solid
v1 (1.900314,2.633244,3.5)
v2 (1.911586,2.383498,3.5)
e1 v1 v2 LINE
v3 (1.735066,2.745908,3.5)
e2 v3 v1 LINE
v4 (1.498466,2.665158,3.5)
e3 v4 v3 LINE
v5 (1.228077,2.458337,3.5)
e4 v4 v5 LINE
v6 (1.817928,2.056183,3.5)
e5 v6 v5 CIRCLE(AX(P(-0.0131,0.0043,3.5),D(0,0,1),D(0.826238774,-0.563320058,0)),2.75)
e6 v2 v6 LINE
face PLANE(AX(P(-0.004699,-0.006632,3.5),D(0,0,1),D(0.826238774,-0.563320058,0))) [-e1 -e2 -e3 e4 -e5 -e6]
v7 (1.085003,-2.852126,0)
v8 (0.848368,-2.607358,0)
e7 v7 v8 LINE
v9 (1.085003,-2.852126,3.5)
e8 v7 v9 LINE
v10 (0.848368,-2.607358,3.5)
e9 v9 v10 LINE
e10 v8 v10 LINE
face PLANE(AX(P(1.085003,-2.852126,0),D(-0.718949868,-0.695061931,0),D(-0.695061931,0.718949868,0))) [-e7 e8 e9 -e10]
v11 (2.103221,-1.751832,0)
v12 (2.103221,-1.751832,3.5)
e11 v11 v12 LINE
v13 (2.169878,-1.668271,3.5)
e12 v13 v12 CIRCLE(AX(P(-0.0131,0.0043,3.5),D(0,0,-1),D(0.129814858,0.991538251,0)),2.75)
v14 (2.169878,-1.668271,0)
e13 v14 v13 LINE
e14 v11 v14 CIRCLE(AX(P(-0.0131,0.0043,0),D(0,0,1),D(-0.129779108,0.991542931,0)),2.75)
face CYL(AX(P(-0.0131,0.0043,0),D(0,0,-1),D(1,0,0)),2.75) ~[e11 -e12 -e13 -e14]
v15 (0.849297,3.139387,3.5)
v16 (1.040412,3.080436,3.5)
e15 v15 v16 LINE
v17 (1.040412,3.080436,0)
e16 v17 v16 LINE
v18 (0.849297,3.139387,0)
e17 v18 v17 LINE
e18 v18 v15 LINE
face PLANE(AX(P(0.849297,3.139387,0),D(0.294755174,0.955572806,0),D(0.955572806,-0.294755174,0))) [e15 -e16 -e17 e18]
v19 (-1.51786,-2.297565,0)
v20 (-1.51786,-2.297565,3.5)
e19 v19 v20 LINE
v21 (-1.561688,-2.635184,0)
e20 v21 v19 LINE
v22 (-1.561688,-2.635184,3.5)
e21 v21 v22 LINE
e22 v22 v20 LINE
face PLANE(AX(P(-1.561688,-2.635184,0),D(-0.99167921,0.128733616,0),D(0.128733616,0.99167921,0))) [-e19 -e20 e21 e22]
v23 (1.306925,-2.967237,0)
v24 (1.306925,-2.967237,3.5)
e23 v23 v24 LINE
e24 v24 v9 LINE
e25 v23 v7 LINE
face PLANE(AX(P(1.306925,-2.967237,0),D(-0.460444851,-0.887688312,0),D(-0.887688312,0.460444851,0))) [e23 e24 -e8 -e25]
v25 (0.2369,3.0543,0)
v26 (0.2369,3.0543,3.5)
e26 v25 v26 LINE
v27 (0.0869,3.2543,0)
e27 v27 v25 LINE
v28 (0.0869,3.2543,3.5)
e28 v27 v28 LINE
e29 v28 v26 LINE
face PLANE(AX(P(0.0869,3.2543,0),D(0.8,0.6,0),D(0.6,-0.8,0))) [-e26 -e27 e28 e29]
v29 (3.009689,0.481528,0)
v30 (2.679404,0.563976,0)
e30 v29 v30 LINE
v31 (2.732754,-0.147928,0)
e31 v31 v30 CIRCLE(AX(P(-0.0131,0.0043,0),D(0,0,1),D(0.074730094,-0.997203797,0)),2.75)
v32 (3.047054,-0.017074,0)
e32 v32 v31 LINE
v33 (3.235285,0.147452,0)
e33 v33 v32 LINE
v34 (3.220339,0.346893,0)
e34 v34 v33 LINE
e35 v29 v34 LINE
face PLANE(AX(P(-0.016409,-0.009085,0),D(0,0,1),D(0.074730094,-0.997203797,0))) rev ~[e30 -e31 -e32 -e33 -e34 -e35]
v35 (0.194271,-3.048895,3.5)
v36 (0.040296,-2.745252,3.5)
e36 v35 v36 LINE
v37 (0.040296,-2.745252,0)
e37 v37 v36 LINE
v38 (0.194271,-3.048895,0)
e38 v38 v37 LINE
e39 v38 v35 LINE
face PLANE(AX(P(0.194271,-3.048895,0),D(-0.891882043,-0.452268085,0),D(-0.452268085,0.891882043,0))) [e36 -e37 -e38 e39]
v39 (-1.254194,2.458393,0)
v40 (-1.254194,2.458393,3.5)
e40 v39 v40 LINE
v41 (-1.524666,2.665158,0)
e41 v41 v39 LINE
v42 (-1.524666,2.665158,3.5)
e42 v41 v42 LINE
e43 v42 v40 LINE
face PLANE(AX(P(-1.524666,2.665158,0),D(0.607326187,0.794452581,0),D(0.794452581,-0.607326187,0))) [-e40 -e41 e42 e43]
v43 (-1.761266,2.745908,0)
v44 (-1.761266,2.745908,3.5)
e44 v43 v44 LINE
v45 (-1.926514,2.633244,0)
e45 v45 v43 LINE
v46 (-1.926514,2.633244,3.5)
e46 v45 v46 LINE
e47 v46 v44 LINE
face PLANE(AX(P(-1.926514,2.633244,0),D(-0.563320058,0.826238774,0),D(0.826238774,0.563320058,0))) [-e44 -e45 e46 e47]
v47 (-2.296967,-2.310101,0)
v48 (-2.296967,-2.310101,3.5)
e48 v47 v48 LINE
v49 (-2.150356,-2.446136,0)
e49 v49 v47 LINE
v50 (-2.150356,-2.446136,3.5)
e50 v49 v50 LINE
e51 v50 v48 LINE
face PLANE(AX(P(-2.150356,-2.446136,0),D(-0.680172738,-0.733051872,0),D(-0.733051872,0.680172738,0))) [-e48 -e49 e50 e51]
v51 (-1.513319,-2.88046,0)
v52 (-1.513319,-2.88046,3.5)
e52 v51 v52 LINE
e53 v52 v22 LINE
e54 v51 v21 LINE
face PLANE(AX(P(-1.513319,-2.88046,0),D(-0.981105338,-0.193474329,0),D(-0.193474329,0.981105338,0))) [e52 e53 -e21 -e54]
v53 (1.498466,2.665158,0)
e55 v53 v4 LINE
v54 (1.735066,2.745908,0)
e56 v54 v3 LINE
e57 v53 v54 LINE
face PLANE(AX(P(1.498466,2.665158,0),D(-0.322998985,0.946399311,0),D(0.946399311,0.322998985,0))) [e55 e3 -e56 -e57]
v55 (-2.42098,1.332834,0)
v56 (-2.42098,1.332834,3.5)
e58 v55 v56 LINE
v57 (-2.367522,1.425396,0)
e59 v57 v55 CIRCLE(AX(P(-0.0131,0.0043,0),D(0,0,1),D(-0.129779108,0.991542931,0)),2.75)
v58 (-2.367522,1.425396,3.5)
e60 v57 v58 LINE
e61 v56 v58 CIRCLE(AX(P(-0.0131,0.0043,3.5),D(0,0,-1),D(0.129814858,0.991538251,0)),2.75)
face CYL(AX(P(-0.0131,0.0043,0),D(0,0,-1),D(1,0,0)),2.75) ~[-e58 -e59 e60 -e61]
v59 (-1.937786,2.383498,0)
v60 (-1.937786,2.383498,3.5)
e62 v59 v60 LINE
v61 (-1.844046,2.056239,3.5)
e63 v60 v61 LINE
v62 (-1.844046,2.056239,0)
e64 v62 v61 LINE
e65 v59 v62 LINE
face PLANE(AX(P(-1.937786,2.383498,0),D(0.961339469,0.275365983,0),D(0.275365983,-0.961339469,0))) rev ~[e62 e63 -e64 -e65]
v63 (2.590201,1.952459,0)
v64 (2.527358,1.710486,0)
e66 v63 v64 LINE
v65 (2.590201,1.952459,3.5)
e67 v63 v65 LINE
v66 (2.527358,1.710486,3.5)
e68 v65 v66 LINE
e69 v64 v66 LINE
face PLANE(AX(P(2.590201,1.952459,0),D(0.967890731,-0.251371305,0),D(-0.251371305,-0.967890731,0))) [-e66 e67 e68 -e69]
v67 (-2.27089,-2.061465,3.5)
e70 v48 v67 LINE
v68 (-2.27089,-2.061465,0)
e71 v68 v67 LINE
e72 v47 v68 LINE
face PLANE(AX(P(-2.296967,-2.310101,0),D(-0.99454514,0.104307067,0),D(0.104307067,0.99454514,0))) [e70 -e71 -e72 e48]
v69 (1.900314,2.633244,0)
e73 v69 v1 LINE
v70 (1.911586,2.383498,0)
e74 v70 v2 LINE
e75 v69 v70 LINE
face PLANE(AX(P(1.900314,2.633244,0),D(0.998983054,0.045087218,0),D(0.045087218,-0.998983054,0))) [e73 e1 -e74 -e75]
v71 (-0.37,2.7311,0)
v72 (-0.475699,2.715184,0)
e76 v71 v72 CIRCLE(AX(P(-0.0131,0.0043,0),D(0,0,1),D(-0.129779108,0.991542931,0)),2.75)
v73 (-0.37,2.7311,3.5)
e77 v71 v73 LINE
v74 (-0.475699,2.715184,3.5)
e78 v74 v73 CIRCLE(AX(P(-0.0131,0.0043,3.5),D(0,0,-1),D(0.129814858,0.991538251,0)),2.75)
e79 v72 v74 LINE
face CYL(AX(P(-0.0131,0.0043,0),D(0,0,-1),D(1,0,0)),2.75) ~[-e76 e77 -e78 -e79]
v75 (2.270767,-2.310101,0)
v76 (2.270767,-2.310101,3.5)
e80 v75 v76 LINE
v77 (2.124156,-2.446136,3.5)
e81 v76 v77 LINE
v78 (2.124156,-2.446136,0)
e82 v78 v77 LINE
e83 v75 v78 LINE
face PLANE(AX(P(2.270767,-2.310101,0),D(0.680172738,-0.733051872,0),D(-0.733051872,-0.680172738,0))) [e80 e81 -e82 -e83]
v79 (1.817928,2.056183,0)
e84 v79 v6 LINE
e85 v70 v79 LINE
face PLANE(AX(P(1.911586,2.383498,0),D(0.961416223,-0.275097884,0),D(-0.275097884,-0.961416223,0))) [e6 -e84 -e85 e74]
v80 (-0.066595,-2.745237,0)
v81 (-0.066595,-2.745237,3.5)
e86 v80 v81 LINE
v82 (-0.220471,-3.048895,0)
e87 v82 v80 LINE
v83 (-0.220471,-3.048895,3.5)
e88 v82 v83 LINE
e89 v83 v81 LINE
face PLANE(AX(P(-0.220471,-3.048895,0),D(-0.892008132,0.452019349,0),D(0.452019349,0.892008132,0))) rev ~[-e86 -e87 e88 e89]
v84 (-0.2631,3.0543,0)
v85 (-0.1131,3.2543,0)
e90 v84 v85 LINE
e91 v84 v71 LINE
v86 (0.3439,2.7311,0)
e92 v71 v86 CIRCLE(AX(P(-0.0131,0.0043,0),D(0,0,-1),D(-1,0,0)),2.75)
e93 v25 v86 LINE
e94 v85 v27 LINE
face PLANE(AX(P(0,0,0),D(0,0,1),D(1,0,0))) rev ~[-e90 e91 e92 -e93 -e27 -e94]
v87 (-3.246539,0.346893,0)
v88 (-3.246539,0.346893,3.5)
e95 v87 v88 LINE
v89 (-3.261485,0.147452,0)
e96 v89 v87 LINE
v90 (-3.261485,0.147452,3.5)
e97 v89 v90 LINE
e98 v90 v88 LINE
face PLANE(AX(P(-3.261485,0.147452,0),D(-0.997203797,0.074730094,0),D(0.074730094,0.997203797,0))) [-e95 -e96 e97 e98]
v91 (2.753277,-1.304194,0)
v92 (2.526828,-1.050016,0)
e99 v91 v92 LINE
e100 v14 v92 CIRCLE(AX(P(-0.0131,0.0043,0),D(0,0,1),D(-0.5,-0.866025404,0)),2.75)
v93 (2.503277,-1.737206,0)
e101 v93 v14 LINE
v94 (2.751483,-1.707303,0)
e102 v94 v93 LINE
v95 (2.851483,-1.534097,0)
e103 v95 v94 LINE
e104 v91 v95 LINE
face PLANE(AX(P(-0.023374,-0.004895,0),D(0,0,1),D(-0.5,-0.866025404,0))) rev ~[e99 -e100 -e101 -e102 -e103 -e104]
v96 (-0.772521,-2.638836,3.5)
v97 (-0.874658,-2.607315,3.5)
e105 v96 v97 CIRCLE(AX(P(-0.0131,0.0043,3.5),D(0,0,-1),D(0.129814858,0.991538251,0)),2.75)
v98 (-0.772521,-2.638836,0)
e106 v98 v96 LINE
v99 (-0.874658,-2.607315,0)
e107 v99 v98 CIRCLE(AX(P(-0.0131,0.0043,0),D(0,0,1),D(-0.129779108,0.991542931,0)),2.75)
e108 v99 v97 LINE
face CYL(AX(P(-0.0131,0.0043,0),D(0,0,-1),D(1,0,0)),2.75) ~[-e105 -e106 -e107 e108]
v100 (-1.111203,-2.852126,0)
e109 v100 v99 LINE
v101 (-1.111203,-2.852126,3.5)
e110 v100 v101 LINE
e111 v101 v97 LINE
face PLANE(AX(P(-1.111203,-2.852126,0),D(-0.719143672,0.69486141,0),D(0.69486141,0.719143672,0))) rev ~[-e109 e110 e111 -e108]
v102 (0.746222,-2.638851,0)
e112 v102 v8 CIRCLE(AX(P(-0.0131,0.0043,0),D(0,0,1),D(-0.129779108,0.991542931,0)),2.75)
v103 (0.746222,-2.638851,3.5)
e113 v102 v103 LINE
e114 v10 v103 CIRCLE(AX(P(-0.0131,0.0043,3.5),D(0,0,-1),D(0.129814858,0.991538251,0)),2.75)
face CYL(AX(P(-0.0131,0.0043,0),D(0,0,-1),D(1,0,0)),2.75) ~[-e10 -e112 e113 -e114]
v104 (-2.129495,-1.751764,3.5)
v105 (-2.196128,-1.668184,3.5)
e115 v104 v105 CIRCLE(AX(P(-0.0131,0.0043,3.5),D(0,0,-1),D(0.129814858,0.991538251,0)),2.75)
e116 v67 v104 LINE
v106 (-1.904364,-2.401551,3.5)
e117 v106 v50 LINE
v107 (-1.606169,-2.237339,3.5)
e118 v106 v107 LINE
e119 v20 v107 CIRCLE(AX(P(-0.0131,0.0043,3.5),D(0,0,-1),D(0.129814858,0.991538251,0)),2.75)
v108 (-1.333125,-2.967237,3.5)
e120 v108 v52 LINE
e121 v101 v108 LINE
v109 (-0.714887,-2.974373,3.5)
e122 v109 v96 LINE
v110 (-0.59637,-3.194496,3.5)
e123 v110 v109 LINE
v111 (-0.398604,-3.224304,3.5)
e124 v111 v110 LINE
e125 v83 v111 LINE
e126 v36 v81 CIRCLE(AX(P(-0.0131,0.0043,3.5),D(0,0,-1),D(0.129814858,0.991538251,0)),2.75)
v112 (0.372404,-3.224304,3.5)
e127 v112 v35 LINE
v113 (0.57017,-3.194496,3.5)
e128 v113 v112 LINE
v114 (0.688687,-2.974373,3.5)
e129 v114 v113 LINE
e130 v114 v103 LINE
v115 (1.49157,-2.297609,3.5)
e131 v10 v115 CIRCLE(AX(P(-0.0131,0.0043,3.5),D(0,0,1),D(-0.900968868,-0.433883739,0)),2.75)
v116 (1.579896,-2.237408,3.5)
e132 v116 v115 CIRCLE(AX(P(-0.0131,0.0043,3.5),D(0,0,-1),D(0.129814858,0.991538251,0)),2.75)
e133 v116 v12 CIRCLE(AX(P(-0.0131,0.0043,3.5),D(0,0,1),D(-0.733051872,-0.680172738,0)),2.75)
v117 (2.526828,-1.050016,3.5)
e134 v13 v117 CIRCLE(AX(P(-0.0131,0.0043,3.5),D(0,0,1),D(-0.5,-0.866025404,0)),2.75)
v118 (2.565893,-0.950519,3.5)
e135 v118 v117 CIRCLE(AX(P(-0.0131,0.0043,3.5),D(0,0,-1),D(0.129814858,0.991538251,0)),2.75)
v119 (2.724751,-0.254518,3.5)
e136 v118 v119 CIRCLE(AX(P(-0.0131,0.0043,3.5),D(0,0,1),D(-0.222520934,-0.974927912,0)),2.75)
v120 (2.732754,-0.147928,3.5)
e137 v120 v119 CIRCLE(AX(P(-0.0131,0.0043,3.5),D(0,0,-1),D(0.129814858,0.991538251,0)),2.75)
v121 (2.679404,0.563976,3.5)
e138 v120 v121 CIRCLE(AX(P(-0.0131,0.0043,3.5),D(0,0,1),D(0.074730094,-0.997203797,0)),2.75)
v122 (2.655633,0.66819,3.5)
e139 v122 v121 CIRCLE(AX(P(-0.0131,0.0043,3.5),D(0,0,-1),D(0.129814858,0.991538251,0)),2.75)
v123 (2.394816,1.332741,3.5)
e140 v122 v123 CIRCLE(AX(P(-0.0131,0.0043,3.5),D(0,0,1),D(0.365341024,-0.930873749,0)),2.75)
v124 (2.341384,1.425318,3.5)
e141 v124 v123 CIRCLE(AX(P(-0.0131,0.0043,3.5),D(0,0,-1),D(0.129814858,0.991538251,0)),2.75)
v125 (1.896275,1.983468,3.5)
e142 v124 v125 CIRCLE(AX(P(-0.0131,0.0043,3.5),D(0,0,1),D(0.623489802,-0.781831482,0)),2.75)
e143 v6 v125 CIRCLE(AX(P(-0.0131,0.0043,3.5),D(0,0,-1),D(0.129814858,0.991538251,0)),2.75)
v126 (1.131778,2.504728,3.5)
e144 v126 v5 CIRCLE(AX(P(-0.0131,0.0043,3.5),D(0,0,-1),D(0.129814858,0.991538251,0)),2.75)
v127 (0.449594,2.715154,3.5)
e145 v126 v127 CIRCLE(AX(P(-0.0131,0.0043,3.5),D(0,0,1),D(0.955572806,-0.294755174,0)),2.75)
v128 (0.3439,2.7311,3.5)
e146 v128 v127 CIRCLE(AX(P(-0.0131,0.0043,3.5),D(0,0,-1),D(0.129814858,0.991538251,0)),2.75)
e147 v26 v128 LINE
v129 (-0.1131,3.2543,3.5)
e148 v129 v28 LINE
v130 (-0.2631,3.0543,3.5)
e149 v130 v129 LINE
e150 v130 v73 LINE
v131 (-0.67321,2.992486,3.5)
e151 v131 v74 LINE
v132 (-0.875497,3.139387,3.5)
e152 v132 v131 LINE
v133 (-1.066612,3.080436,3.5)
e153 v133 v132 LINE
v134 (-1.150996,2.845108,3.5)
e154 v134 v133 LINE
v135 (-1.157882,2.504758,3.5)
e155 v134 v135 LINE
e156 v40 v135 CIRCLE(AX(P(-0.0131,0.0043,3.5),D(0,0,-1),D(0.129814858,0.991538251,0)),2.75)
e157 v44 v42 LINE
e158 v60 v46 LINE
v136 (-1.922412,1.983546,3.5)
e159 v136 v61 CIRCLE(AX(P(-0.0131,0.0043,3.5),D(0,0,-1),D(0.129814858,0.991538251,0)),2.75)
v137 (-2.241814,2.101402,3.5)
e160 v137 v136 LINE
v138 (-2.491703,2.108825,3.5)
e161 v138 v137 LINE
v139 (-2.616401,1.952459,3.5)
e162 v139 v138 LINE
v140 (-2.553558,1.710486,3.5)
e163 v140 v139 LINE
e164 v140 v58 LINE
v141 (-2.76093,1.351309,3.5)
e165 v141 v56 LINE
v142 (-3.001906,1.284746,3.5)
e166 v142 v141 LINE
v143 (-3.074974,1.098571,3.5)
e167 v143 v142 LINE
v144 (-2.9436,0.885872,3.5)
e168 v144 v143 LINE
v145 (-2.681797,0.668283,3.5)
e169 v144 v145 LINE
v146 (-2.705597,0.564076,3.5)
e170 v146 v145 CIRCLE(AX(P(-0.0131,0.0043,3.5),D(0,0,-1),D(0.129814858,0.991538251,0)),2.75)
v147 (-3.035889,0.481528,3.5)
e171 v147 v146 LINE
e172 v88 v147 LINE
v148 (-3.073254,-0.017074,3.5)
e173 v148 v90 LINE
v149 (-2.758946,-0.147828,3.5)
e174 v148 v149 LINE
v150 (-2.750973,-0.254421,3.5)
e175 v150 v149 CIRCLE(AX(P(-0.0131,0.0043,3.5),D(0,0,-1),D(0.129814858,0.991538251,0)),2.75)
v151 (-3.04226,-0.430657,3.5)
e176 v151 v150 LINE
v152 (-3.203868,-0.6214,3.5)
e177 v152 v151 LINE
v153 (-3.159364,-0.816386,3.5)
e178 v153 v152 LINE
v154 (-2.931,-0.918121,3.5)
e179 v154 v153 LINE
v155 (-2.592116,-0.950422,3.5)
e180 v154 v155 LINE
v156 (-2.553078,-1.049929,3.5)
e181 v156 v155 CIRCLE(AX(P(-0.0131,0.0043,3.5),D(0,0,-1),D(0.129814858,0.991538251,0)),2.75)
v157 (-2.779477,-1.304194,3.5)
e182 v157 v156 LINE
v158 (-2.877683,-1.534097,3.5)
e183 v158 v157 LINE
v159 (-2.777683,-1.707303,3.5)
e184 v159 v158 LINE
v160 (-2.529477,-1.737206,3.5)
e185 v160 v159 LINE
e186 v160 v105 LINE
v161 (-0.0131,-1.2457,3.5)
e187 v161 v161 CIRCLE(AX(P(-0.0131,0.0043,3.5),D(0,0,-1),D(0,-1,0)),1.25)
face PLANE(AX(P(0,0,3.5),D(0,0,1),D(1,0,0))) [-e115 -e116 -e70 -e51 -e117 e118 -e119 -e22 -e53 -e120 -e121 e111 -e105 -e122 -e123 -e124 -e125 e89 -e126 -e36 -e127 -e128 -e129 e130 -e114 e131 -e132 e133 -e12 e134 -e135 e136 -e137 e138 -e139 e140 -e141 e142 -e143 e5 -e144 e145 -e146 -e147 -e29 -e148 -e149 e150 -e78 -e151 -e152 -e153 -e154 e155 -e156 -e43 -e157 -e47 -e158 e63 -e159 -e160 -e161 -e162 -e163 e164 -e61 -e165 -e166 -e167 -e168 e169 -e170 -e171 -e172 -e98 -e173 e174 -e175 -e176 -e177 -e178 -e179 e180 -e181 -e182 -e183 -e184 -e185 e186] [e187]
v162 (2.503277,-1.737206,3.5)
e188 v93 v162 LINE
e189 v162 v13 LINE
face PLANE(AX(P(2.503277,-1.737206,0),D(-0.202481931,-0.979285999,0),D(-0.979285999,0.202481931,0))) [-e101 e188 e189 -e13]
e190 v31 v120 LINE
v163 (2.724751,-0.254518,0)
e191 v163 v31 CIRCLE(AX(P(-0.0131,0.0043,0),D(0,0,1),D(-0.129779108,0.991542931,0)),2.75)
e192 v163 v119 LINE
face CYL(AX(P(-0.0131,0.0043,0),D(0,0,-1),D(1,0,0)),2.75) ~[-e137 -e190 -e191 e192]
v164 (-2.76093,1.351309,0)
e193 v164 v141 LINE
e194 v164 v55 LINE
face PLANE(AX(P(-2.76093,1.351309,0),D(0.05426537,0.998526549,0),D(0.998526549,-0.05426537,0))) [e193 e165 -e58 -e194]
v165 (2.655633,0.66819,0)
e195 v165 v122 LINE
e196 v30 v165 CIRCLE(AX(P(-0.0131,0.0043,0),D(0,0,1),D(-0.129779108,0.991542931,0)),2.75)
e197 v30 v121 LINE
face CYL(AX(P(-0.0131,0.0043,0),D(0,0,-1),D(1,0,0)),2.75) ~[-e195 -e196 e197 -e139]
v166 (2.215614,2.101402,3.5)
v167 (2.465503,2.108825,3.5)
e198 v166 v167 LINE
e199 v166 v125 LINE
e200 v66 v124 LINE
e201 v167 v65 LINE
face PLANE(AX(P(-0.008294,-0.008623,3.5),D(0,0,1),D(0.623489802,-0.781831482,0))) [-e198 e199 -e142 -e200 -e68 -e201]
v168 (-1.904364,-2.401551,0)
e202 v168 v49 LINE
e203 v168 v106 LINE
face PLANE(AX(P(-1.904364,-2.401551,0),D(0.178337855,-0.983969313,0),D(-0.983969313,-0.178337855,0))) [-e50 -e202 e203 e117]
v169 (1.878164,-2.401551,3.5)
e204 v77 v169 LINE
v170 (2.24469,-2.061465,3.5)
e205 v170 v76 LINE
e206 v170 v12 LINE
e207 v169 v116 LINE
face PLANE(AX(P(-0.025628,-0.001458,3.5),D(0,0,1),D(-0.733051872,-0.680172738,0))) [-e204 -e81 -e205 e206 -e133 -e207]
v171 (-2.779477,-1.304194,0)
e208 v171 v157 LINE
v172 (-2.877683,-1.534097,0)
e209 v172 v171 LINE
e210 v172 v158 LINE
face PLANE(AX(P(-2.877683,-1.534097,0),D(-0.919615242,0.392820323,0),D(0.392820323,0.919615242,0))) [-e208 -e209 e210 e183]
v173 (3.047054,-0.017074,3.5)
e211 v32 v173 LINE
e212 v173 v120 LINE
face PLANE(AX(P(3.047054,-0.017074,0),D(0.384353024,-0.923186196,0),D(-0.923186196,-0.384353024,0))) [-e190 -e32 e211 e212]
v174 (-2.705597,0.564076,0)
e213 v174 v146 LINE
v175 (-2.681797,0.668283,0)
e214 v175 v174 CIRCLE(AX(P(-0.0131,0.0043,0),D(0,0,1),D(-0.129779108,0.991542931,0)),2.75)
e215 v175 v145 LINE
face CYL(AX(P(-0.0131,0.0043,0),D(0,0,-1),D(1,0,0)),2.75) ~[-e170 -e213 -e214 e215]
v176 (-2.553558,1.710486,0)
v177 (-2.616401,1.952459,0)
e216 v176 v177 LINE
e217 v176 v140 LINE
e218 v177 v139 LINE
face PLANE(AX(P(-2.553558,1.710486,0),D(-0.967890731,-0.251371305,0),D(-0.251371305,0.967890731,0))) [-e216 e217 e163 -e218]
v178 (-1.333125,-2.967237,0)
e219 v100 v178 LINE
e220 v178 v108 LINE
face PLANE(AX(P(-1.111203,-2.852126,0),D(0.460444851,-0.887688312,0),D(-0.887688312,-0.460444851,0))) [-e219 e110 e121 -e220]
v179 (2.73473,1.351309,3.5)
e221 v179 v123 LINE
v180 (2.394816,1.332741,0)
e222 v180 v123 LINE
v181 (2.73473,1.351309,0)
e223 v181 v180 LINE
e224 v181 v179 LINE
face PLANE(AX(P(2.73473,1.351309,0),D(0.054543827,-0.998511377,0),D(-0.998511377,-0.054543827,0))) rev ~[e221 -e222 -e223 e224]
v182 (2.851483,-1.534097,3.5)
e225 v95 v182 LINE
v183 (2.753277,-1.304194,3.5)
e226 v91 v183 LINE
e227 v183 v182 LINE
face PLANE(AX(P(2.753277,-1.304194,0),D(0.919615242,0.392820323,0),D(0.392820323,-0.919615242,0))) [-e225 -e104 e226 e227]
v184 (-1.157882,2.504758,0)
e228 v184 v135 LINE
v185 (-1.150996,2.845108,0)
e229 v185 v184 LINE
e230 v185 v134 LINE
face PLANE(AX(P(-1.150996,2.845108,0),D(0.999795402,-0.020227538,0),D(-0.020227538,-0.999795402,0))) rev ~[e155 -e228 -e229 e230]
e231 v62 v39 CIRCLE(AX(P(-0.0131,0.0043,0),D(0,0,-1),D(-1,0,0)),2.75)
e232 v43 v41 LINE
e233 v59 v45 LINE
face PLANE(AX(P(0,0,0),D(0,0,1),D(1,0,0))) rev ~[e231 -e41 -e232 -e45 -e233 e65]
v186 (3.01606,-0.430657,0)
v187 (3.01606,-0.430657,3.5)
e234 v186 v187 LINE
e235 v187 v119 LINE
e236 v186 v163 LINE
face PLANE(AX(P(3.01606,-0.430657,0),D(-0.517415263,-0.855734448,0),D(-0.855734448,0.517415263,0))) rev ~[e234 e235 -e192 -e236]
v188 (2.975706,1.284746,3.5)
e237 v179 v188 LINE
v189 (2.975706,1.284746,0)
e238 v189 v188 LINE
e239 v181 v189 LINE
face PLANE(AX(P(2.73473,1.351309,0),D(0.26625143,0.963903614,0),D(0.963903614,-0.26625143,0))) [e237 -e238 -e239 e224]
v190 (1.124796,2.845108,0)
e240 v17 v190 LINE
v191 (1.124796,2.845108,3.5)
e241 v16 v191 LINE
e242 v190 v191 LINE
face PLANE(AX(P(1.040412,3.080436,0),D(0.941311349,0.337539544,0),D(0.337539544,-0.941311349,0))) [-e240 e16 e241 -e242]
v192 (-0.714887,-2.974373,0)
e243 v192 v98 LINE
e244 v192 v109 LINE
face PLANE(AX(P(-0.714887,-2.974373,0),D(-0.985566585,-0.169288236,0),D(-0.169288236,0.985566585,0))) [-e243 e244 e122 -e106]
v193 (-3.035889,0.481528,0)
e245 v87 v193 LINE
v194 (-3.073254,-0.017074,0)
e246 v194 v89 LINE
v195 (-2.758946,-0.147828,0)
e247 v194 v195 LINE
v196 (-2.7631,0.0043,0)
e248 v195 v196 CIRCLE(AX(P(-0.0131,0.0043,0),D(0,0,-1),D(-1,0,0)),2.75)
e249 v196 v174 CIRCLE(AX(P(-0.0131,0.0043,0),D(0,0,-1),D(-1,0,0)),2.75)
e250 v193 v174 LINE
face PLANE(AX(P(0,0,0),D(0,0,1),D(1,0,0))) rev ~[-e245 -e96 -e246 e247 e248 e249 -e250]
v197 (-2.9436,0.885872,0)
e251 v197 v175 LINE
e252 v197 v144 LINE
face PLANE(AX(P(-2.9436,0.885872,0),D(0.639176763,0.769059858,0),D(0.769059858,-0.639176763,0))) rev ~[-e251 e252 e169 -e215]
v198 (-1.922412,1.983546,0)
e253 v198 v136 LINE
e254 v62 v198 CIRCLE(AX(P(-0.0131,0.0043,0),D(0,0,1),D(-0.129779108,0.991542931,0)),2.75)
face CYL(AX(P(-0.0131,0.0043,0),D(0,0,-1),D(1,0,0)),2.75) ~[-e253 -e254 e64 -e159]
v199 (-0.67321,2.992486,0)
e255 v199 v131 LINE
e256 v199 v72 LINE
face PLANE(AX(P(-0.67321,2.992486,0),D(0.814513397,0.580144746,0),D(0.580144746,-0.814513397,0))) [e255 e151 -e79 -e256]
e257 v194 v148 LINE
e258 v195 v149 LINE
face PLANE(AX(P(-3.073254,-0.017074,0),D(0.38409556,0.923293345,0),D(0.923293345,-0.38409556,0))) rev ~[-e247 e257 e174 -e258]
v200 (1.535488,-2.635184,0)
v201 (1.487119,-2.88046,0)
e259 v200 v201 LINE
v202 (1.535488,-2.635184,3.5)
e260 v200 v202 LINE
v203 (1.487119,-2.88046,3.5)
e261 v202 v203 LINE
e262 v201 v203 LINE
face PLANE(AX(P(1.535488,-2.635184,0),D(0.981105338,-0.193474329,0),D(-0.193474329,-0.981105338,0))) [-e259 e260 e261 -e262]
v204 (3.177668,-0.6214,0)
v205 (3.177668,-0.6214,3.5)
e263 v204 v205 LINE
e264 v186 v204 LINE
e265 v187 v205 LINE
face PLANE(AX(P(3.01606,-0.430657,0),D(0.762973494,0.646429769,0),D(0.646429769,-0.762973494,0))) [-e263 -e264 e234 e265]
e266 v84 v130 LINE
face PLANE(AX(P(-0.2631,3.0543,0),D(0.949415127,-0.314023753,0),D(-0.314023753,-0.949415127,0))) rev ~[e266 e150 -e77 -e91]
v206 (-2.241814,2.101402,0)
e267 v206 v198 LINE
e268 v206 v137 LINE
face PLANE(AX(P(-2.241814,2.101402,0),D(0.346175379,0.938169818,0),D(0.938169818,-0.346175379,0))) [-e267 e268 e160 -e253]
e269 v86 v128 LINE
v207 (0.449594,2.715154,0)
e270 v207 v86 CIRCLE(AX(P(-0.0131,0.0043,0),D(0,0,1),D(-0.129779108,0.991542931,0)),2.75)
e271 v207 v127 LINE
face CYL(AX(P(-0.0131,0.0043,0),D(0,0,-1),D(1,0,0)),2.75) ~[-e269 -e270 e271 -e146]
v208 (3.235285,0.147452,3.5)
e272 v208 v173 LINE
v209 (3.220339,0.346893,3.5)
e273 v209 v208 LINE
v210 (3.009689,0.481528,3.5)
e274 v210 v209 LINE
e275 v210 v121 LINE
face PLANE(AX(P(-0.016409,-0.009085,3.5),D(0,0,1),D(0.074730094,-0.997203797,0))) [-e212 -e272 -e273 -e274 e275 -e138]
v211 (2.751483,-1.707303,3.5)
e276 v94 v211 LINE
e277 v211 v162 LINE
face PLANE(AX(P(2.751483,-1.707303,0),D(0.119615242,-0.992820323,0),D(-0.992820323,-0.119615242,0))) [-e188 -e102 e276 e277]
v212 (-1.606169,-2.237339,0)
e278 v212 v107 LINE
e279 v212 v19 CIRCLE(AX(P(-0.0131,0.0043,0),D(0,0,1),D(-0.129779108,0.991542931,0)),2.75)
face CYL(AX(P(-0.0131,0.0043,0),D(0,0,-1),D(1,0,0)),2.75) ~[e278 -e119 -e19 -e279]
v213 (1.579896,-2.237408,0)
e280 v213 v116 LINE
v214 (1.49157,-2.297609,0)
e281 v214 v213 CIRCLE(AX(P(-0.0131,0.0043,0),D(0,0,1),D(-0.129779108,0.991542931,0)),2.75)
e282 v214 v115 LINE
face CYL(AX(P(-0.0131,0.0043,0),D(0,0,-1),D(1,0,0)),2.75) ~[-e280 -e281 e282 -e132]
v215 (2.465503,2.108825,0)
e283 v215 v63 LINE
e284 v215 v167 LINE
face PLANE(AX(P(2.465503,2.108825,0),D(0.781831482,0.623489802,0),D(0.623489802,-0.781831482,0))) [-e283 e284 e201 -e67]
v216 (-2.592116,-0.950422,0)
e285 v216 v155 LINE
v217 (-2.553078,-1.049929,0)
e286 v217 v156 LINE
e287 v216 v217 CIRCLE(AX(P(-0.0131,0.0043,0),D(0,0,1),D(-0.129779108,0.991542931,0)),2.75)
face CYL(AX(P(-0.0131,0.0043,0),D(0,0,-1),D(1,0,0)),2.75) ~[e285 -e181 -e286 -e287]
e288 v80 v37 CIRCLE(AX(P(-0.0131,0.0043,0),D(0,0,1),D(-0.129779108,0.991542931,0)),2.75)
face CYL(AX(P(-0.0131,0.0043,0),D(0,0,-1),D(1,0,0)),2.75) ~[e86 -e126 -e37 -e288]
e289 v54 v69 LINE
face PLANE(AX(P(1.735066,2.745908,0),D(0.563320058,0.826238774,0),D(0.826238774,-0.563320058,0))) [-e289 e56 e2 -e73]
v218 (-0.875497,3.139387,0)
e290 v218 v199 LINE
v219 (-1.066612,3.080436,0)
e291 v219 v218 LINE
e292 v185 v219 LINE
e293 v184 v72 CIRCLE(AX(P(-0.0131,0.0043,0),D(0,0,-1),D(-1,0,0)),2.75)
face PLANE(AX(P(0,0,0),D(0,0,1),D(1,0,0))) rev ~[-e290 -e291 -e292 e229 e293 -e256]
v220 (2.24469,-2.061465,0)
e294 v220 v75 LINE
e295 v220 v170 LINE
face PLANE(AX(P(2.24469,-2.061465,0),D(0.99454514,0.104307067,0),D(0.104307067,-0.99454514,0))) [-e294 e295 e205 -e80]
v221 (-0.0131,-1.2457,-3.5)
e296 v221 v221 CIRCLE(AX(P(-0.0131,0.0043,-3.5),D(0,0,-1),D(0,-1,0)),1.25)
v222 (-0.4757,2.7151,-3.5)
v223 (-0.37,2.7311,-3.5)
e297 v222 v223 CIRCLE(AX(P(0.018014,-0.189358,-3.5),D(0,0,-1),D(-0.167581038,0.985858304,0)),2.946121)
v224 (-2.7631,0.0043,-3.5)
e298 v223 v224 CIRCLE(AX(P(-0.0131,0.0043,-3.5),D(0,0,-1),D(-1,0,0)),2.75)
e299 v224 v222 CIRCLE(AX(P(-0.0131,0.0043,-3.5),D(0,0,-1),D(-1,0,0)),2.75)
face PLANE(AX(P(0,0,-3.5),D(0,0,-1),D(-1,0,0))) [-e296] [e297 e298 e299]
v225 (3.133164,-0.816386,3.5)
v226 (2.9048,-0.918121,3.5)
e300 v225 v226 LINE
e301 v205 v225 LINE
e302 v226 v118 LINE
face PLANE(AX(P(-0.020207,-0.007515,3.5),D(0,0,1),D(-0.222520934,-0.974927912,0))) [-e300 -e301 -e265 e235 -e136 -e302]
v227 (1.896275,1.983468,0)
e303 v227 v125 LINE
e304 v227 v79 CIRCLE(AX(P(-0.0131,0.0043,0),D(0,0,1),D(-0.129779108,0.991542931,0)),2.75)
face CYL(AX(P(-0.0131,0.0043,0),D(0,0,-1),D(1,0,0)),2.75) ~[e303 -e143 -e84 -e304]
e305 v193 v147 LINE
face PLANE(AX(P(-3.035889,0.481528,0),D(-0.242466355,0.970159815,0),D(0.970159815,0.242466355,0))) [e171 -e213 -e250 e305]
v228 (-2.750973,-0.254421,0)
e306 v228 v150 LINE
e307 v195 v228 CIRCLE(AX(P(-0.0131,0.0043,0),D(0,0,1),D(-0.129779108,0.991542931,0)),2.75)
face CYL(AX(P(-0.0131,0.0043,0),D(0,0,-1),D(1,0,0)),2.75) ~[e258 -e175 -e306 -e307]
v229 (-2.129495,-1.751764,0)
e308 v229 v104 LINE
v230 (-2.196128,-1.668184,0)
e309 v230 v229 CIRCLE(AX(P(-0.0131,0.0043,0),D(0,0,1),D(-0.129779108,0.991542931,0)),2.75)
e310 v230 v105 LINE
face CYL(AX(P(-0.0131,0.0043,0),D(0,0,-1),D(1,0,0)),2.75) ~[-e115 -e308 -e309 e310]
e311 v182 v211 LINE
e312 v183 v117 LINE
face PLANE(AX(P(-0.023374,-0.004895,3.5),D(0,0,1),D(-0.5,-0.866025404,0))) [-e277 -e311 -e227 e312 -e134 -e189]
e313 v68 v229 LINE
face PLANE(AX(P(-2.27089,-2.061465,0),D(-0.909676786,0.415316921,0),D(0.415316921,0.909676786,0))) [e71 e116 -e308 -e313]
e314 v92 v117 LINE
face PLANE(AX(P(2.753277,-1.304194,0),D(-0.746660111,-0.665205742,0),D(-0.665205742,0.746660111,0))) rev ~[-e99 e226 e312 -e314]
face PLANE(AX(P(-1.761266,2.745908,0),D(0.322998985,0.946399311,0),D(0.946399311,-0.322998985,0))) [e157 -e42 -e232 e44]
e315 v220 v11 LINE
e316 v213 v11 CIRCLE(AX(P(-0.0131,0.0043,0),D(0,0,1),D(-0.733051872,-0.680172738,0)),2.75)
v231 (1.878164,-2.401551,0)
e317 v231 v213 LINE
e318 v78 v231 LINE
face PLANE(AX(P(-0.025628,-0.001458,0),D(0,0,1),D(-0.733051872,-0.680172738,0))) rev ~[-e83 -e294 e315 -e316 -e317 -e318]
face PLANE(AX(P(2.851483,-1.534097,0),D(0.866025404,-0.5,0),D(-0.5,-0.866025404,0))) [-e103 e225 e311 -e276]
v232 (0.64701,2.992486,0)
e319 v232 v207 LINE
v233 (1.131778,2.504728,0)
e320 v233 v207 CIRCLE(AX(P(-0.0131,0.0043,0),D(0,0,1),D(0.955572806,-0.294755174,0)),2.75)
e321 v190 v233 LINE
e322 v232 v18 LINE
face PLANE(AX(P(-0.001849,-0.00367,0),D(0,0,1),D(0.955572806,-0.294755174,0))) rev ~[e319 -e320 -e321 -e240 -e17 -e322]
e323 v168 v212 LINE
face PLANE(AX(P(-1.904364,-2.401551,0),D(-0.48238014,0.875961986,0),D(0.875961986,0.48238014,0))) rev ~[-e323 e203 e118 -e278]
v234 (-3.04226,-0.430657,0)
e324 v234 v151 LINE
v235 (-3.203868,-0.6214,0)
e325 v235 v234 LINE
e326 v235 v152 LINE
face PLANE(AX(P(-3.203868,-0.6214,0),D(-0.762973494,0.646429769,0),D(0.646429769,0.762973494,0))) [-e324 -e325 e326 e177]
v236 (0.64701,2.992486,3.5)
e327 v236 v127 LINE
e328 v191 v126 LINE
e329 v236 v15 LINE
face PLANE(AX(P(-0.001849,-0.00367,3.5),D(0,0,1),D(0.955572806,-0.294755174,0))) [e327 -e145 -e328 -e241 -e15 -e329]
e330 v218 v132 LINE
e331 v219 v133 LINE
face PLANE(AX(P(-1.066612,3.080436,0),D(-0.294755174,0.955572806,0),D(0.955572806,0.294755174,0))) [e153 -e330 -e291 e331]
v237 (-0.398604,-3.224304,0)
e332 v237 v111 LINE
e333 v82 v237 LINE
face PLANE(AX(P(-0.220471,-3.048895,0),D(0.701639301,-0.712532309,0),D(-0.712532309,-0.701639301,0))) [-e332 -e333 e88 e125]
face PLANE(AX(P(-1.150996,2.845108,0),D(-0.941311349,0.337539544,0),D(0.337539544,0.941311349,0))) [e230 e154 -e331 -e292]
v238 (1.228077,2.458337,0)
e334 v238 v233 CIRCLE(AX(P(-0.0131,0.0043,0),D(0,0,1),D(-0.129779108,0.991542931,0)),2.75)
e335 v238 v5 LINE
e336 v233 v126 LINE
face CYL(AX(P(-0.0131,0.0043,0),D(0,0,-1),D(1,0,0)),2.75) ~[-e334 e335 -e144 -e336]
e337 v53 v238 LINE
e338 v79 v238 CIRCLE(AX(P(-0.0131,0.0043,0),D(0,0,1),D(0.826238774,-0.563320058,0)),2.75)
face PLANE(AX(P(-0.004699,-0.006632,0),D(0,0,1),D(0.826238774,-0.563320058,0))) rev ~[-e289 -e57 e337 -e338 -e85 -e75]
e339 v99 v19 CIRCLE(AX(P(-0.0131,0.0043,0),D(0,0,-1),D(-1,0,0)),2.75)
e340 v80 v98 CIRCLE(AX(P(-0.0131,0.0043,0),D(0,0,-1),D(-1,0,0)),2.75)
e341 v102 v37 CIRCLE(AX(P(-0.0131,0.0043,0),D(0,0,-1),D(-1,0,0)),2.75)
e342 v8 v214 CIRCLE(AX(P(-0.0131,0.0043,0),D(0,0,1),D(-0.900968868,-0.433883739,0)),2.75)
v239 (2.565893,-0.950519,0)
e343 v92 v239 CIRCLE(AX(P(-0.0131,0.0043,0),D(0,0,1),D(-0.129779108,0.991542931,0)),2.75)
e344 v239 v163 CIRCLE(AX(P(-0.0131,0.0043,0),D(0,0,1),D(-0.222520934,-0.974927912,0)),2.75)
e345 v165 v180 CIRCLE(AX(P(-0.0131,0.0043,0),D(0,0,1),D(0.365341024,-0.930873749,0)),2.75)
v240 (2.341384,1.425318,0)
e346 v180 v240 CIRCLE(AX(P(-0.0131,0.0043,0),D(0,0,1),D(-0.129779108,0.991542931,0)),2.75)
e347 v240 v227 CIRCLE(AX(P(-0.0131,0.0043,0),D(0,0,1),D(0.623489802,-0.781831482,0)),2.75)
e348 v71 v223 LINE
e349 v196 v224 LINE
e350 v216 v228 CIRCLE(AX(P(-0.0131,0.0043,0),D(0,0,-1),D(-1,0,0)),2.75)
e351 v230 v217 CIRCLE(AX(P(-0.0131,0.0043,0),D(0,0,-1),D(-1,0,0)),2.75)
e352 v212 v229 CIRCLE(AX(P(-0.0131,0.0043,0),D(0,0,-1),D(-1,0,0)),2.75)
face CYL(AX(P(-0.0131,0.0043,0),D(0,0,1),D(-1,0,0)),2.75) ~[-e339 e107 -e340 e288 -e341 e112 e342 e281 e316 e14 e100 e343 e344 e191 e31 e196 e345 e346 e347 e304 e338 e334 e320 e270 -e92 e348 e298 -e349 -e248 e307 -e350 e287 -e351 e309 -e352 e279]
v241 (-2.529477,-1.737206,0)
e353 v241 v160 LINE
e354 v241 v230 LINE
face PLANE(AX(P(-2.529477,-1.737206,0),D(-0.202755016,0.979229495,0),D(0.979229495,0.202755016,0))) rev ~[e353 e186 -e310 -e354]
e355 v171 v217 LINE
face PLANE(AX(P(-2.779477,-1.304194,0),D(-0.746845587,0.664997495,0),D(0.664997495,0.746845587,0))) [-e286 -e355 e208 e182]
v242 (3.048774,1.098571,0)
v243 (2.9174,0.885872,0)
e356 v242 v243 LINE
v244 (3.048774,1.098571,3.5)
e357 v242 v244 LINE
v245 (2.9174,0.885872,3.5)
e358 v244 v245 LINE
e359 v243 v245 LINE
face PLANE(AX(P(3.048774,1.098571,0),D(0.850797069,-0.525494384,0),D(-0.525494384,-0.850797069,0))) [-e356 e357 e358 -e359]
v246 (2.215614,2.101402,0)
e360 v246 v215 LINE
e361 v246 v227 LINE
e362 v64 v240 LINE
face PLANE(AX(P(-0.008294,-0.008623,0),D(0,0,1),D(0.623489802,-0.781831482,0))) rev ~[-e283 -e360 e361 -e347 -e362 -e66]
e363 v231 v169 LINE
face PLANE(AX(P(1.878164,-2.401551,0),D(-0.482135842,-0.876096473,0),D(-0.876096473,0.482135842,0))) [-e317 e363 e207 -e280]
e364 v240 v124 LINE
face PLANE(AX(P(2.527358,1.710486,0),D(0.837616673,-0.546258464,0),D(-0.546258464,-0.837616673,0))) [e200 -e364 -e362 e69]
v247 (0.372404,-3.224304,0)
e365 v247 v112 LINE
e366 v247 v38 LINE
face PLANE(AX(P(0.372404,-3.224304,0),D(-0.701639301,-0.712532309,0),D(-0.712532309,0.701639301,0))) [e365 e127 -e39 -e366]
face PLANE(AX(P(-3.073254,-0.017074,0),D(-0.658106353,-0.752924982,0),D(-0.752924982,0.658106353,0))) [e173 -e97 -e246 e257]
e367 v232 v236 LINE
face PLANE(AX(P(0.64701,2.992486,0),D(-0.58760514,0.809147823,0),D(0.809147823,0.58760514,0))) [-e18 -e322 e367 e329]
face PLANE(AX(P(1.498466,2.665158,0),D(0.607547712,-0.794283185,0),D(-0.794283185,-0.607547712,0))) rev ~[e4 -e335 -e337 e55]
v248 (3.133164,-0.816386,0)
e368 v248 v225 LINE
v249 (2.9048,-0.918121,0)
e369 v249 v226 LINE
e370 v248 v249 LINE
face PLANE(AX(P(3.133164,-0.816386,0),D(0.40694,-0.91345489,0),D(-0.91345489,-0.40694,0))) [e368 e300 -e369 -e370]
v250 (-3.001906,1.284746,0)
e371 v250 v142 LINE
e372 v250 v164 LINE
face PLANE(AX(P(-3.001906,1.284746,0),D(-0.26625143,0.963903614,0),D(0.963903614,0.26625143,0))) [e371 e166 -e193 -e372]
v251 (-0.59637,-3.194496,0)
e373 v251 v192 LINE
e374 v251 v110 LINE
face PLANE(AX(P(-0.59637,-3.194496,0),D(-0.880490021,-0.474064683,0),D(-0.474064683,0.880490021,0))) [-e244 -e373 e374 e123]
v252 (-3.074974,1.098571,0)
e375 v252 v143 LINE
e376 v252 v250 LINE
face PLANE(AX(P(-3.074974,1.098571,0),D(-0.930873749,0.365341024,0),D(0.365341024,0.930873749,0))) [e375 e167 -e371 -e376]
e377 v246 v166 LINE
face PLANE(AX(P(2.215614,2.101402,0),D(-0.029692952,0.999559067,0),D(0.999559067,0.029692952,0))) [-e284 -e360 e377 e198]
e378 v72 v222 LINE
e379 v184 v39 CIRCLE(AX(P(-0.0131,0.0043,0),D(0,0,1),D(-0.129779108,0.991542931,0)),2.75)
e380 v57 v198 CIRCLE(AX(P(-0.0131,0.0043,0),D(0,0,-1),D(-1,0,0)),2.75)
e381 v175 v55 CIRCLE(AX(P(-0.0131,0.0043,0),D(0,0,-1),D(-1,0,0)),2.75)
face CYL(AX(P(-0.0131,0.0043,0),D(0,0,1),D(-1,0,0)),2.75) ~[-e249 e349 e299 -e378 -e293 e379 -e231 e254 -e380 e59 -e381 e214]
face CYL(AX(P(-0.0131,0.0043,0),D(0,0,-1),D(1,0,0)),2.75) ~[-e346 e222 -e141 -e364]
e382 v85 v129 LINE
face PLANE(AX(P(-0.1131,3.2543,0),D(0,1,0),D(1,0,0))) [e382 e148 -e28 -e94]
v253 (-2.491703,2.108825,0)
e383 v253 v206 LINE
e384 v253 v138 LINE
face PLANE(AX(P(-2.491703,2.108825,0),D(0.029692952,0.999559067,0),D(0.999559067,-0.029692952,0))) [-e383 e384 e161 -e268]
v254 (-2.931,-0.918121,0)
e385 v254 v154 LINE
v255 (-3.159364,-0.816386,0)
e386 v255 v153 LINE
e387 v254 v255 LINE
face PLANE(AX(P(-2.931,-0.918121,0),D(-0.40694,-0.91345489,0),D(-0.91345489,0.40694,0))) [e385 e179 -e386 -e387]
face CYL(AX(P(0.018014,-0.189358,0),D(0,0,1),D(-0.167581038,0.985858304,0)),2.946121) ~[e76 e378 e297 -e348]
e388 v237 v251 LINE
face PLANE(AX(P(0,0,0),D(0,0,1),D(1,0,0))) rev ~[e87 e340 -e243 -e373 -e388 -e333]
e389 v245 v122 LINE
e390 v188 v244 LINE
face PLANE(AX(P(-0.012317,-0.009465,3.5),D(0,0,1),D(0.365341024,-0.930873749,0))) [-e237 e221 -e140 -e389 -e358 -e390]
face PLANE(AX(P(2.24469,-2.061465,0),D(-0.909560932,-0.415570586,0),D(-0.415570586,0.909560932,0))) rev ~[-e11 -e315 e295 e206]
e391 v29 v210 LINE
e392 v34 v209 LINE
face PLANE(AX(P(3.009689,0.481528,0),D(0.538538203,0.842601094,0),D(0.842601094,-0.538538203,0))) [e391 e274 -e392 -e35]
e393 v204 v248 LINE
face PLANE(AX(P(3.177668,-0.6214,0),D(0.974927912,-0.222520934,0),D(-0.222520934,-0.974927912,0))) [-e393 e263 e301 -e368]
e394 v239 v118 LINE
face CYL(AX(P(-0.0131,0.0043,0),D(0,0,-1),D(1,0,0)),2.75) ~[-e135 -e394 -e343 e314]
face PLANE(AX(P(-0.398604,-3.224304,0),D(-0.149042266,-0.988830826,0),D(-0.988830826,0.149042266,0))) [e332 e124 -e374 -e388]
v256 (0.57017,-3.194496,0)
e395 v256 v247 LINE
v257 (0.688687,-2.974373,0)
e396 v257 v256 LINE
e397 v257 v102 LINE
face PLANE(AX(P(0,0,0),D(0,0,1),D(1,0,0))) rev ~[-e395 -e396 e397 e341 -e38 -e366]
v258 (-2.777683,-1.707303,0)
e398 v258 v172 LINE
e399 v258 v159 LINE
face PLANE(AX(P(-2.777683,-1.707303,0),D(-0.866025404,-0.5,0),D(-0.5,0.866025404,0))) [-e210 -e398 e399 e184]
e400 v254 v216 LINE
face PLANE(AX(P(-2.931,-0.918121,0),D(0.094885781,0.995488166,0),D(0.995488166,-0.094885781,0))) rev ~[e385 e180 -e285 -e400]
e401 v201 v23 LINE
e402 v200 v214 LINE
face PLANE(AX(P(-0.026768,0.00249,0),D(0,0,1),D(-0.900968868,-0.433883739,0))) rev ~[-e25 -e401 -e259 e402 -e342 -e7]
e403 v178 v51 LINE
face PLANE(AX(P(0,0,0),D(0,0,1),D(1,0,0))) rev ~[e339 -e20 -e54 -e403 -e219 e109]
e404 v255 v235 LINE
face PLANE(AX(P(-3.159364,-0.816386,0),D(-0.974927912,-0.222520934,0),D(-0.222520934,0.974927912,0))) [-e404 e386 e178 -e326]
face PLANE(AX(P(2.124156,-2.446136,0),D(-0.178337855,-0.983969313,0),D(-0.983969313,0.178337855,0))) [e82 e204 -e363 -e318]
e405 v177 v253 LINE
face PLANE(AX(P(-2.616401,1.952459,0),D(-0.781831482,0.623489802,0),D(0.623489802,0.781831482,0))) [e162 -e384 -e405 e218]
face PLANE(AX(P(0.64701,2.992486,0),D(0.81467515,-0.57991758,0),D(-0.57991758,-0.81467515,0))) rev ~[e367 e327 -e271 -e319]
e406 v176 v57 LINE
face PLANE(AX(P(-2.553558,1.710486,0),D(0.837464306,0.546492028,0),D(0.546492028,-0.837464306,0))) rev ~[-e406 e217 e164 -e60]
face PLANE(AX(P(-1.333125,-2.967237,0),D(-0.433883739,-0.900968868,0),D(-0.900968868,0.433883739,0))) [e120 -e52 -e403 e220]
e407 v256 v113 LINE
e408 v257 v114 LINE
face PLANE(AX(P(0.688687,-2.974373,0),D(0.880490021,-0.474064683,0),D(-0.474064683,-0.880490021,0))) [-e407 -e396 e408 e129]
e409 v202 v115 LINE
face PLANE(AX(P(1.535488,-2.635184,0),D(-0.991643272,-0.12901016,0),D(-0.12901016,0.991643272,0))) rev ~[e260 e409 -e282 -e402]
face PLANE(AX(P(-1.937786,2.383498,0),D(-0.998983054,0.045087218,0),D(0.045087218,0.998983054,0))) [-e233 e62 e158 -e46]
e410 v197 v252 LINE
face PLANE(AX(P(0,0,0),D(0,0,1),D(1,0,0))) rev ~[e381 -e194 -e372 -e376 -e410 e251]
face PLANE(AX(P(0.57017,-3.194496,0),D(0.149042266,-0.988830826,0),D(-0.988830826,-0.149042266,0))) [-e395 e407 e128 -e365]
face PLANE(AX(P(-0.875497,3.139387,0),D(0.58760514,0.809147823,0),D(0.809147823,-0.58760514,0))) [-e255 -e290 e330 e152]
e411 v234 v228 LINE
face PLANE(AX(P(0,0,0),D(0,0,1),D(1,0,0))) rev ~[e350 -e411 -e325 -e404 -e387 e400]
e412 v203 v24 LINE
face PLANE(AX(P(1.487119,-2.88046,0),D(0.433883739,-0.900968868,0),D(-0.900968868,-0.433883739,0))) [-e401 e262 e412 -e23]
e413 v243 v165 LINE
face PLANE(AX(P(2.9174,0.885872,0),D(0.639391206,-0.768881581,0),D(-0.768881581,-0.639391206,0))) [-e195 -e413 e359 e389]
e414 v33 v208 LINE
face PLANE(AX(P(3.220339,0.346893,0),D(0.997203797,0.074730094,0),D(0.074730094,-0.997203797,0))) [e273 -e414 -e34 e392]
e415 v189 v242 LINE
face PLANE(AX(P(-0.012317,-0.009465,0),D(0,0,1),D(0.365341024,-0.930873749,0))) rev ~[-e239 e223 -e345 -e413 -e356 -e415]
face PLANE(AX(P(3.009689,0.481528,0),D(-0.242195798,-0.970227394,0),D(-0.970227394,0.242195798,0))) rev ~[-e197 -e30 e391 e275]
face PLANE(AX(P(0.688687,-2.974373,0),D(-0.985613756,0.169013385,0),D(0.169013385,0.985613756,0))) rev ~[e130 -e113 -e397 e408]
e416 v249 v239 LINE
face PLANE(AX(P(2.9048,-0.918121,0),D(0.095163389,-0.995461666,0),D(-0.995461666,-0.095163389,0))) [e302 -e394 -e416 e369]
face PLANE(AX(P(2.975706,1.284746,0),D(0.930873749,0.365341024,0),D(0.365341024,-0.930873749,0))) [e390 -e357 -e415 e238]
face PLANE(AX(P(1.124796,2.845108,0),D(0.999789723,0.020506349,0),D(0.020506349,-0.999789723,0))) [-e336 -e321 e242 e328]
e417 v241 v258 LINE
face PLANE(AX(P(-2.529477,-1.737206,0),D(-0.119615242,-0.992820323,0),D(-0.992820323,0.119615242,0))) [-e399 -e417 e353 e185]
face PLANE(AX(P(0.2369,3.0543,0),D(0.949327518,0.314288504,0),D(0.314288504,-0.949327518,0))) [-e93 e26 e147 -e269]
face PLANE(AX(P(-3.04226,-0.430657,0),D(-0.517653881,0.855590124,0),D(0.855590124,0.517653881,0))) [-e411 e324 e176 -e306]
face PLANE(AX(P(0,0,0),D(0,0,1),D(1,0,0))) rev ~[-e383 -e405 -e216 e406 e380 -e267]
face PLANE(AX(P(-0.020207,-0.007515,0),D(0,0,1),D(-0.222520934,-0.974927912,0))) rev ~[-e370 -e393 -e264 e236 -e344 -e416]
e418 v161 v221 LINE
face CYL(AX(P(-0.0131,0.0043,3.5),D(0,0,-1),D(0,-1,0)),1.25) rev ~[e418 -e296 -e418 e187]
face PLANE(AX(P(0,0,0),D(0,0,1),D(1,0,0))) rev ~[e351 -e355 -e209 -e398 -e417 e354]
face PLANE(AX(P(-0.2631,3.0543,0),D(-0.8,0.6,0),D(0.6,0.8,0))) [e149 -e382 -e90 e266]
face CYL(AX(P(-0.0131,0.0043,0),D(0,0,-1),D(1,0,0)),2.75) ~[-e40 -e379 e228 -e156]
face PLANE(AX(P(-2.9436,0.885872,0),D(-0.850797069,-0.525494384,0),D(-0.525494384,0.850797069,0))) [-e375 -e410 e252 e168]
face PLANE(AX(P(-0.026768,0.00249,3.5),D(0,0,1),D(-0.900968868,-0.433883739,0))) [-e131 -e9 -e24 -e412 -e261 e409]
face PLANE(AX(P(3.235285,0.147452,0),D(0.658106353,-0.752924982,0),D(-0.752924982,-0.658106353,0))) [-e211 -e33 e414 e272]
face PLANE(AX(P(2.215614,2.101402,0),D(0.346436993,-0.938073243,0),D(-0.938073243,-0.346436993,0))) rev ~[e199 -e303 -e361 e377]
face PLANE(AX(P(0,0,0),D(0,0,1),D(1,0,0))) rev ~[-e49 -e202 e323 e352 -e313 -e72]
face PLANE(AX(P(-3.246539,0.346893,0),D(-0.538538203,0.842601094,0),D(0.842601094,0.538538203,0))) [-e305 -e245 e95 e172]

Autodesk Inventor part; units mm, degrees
ref_plane "YZ Plane" through (0, 0, 0) normal (1, 0, 0) x (0, 1, 0)
ref_plane "XZ Plane" through (0, 0, 0) normal (0, 1, 0) x (-1, 0, 0)
ref_plane "XY Plane" through (0, 0, 0) normal (0, 0, 1) x (1, 0, 0)
sketch "Sketch1" plane through (0, 0, 0) normal (0, 0, 1) x (1, 0, 0)
  circle A0 centre (-0.0131, 0.0043) radius 2.75
  line L0 (-0.2631, 3.0543) -> (-0.1131, 3.2543)
  line L1 (-0.1131, 3.2543) -> (0.0869, 3.2543)
  line L2 (0.0869, 3.2543) -> (0.2369, 3.0543)
  line L3 (-0.2631, 3.0543) -> (-0.37, 2.7311)
  line L4 (0.2369, 3.0543) -> (0.3439, 2.7311)
  line L5 (-0.0131, 3.2543) -> (-0.0131, 0.0043) construction
  line L6 (-0.37, 2.7311) -> (0.3439, 2.7311)
  circle A1 centre (-0.0131, 0.0043) radius 2.75
  circle A2 centre (-0.0131, 0.0043) radius 2.75
  dimension "d0" = 5.5
  dimension "d12" = 0.2
  dimension "d18" = 0.5
  dimension "d19" = 0.7139
  dimension "d23" = 0.3233
  dimension "d24" = 71.693
  dimension "d25" = 71.693
  dimension "d26" = 53.124
extrude "Extrusion1" add sketch "Sketch1" along normal blind 3.5 contours A0 L6 | L6 A0
extrude "Extrusion2" add sketch "Sketch1" along normal blind 3.5 contours A0 L3 L0 L1 L2 L4
pattern_circular "Circular Pattern1" count 21 over 360 about axis through (-0.0131, 0.0043, 0) along (0, 0, 1) of "Extrusion2"
sketch "Sketch3" plane through (0, 0, 0) normal (0, 0, -1) x (-1, 0, 0)
  arc A0 (0.4757, 2.7151) -> (0.37, 2.7311) centre (0.0131, 0.0043) ccw projected
  circle A1 centre (0.0131, 0.0043) radius 2.75
  dimension "d46" = 5.5
extrude "Extrusion3" add sketch "Sketch3" along normal blind 3.5
hole "Hole1" at (-0.0131, 0.0043, 3.5) direction (0, 0, -1) diameter 2.5 depth 7
thread "Thread1" size "M2.5x0.45" class "6H" standard "ANSI Metric M Profile" full length
properties part number "pinhon servo"
